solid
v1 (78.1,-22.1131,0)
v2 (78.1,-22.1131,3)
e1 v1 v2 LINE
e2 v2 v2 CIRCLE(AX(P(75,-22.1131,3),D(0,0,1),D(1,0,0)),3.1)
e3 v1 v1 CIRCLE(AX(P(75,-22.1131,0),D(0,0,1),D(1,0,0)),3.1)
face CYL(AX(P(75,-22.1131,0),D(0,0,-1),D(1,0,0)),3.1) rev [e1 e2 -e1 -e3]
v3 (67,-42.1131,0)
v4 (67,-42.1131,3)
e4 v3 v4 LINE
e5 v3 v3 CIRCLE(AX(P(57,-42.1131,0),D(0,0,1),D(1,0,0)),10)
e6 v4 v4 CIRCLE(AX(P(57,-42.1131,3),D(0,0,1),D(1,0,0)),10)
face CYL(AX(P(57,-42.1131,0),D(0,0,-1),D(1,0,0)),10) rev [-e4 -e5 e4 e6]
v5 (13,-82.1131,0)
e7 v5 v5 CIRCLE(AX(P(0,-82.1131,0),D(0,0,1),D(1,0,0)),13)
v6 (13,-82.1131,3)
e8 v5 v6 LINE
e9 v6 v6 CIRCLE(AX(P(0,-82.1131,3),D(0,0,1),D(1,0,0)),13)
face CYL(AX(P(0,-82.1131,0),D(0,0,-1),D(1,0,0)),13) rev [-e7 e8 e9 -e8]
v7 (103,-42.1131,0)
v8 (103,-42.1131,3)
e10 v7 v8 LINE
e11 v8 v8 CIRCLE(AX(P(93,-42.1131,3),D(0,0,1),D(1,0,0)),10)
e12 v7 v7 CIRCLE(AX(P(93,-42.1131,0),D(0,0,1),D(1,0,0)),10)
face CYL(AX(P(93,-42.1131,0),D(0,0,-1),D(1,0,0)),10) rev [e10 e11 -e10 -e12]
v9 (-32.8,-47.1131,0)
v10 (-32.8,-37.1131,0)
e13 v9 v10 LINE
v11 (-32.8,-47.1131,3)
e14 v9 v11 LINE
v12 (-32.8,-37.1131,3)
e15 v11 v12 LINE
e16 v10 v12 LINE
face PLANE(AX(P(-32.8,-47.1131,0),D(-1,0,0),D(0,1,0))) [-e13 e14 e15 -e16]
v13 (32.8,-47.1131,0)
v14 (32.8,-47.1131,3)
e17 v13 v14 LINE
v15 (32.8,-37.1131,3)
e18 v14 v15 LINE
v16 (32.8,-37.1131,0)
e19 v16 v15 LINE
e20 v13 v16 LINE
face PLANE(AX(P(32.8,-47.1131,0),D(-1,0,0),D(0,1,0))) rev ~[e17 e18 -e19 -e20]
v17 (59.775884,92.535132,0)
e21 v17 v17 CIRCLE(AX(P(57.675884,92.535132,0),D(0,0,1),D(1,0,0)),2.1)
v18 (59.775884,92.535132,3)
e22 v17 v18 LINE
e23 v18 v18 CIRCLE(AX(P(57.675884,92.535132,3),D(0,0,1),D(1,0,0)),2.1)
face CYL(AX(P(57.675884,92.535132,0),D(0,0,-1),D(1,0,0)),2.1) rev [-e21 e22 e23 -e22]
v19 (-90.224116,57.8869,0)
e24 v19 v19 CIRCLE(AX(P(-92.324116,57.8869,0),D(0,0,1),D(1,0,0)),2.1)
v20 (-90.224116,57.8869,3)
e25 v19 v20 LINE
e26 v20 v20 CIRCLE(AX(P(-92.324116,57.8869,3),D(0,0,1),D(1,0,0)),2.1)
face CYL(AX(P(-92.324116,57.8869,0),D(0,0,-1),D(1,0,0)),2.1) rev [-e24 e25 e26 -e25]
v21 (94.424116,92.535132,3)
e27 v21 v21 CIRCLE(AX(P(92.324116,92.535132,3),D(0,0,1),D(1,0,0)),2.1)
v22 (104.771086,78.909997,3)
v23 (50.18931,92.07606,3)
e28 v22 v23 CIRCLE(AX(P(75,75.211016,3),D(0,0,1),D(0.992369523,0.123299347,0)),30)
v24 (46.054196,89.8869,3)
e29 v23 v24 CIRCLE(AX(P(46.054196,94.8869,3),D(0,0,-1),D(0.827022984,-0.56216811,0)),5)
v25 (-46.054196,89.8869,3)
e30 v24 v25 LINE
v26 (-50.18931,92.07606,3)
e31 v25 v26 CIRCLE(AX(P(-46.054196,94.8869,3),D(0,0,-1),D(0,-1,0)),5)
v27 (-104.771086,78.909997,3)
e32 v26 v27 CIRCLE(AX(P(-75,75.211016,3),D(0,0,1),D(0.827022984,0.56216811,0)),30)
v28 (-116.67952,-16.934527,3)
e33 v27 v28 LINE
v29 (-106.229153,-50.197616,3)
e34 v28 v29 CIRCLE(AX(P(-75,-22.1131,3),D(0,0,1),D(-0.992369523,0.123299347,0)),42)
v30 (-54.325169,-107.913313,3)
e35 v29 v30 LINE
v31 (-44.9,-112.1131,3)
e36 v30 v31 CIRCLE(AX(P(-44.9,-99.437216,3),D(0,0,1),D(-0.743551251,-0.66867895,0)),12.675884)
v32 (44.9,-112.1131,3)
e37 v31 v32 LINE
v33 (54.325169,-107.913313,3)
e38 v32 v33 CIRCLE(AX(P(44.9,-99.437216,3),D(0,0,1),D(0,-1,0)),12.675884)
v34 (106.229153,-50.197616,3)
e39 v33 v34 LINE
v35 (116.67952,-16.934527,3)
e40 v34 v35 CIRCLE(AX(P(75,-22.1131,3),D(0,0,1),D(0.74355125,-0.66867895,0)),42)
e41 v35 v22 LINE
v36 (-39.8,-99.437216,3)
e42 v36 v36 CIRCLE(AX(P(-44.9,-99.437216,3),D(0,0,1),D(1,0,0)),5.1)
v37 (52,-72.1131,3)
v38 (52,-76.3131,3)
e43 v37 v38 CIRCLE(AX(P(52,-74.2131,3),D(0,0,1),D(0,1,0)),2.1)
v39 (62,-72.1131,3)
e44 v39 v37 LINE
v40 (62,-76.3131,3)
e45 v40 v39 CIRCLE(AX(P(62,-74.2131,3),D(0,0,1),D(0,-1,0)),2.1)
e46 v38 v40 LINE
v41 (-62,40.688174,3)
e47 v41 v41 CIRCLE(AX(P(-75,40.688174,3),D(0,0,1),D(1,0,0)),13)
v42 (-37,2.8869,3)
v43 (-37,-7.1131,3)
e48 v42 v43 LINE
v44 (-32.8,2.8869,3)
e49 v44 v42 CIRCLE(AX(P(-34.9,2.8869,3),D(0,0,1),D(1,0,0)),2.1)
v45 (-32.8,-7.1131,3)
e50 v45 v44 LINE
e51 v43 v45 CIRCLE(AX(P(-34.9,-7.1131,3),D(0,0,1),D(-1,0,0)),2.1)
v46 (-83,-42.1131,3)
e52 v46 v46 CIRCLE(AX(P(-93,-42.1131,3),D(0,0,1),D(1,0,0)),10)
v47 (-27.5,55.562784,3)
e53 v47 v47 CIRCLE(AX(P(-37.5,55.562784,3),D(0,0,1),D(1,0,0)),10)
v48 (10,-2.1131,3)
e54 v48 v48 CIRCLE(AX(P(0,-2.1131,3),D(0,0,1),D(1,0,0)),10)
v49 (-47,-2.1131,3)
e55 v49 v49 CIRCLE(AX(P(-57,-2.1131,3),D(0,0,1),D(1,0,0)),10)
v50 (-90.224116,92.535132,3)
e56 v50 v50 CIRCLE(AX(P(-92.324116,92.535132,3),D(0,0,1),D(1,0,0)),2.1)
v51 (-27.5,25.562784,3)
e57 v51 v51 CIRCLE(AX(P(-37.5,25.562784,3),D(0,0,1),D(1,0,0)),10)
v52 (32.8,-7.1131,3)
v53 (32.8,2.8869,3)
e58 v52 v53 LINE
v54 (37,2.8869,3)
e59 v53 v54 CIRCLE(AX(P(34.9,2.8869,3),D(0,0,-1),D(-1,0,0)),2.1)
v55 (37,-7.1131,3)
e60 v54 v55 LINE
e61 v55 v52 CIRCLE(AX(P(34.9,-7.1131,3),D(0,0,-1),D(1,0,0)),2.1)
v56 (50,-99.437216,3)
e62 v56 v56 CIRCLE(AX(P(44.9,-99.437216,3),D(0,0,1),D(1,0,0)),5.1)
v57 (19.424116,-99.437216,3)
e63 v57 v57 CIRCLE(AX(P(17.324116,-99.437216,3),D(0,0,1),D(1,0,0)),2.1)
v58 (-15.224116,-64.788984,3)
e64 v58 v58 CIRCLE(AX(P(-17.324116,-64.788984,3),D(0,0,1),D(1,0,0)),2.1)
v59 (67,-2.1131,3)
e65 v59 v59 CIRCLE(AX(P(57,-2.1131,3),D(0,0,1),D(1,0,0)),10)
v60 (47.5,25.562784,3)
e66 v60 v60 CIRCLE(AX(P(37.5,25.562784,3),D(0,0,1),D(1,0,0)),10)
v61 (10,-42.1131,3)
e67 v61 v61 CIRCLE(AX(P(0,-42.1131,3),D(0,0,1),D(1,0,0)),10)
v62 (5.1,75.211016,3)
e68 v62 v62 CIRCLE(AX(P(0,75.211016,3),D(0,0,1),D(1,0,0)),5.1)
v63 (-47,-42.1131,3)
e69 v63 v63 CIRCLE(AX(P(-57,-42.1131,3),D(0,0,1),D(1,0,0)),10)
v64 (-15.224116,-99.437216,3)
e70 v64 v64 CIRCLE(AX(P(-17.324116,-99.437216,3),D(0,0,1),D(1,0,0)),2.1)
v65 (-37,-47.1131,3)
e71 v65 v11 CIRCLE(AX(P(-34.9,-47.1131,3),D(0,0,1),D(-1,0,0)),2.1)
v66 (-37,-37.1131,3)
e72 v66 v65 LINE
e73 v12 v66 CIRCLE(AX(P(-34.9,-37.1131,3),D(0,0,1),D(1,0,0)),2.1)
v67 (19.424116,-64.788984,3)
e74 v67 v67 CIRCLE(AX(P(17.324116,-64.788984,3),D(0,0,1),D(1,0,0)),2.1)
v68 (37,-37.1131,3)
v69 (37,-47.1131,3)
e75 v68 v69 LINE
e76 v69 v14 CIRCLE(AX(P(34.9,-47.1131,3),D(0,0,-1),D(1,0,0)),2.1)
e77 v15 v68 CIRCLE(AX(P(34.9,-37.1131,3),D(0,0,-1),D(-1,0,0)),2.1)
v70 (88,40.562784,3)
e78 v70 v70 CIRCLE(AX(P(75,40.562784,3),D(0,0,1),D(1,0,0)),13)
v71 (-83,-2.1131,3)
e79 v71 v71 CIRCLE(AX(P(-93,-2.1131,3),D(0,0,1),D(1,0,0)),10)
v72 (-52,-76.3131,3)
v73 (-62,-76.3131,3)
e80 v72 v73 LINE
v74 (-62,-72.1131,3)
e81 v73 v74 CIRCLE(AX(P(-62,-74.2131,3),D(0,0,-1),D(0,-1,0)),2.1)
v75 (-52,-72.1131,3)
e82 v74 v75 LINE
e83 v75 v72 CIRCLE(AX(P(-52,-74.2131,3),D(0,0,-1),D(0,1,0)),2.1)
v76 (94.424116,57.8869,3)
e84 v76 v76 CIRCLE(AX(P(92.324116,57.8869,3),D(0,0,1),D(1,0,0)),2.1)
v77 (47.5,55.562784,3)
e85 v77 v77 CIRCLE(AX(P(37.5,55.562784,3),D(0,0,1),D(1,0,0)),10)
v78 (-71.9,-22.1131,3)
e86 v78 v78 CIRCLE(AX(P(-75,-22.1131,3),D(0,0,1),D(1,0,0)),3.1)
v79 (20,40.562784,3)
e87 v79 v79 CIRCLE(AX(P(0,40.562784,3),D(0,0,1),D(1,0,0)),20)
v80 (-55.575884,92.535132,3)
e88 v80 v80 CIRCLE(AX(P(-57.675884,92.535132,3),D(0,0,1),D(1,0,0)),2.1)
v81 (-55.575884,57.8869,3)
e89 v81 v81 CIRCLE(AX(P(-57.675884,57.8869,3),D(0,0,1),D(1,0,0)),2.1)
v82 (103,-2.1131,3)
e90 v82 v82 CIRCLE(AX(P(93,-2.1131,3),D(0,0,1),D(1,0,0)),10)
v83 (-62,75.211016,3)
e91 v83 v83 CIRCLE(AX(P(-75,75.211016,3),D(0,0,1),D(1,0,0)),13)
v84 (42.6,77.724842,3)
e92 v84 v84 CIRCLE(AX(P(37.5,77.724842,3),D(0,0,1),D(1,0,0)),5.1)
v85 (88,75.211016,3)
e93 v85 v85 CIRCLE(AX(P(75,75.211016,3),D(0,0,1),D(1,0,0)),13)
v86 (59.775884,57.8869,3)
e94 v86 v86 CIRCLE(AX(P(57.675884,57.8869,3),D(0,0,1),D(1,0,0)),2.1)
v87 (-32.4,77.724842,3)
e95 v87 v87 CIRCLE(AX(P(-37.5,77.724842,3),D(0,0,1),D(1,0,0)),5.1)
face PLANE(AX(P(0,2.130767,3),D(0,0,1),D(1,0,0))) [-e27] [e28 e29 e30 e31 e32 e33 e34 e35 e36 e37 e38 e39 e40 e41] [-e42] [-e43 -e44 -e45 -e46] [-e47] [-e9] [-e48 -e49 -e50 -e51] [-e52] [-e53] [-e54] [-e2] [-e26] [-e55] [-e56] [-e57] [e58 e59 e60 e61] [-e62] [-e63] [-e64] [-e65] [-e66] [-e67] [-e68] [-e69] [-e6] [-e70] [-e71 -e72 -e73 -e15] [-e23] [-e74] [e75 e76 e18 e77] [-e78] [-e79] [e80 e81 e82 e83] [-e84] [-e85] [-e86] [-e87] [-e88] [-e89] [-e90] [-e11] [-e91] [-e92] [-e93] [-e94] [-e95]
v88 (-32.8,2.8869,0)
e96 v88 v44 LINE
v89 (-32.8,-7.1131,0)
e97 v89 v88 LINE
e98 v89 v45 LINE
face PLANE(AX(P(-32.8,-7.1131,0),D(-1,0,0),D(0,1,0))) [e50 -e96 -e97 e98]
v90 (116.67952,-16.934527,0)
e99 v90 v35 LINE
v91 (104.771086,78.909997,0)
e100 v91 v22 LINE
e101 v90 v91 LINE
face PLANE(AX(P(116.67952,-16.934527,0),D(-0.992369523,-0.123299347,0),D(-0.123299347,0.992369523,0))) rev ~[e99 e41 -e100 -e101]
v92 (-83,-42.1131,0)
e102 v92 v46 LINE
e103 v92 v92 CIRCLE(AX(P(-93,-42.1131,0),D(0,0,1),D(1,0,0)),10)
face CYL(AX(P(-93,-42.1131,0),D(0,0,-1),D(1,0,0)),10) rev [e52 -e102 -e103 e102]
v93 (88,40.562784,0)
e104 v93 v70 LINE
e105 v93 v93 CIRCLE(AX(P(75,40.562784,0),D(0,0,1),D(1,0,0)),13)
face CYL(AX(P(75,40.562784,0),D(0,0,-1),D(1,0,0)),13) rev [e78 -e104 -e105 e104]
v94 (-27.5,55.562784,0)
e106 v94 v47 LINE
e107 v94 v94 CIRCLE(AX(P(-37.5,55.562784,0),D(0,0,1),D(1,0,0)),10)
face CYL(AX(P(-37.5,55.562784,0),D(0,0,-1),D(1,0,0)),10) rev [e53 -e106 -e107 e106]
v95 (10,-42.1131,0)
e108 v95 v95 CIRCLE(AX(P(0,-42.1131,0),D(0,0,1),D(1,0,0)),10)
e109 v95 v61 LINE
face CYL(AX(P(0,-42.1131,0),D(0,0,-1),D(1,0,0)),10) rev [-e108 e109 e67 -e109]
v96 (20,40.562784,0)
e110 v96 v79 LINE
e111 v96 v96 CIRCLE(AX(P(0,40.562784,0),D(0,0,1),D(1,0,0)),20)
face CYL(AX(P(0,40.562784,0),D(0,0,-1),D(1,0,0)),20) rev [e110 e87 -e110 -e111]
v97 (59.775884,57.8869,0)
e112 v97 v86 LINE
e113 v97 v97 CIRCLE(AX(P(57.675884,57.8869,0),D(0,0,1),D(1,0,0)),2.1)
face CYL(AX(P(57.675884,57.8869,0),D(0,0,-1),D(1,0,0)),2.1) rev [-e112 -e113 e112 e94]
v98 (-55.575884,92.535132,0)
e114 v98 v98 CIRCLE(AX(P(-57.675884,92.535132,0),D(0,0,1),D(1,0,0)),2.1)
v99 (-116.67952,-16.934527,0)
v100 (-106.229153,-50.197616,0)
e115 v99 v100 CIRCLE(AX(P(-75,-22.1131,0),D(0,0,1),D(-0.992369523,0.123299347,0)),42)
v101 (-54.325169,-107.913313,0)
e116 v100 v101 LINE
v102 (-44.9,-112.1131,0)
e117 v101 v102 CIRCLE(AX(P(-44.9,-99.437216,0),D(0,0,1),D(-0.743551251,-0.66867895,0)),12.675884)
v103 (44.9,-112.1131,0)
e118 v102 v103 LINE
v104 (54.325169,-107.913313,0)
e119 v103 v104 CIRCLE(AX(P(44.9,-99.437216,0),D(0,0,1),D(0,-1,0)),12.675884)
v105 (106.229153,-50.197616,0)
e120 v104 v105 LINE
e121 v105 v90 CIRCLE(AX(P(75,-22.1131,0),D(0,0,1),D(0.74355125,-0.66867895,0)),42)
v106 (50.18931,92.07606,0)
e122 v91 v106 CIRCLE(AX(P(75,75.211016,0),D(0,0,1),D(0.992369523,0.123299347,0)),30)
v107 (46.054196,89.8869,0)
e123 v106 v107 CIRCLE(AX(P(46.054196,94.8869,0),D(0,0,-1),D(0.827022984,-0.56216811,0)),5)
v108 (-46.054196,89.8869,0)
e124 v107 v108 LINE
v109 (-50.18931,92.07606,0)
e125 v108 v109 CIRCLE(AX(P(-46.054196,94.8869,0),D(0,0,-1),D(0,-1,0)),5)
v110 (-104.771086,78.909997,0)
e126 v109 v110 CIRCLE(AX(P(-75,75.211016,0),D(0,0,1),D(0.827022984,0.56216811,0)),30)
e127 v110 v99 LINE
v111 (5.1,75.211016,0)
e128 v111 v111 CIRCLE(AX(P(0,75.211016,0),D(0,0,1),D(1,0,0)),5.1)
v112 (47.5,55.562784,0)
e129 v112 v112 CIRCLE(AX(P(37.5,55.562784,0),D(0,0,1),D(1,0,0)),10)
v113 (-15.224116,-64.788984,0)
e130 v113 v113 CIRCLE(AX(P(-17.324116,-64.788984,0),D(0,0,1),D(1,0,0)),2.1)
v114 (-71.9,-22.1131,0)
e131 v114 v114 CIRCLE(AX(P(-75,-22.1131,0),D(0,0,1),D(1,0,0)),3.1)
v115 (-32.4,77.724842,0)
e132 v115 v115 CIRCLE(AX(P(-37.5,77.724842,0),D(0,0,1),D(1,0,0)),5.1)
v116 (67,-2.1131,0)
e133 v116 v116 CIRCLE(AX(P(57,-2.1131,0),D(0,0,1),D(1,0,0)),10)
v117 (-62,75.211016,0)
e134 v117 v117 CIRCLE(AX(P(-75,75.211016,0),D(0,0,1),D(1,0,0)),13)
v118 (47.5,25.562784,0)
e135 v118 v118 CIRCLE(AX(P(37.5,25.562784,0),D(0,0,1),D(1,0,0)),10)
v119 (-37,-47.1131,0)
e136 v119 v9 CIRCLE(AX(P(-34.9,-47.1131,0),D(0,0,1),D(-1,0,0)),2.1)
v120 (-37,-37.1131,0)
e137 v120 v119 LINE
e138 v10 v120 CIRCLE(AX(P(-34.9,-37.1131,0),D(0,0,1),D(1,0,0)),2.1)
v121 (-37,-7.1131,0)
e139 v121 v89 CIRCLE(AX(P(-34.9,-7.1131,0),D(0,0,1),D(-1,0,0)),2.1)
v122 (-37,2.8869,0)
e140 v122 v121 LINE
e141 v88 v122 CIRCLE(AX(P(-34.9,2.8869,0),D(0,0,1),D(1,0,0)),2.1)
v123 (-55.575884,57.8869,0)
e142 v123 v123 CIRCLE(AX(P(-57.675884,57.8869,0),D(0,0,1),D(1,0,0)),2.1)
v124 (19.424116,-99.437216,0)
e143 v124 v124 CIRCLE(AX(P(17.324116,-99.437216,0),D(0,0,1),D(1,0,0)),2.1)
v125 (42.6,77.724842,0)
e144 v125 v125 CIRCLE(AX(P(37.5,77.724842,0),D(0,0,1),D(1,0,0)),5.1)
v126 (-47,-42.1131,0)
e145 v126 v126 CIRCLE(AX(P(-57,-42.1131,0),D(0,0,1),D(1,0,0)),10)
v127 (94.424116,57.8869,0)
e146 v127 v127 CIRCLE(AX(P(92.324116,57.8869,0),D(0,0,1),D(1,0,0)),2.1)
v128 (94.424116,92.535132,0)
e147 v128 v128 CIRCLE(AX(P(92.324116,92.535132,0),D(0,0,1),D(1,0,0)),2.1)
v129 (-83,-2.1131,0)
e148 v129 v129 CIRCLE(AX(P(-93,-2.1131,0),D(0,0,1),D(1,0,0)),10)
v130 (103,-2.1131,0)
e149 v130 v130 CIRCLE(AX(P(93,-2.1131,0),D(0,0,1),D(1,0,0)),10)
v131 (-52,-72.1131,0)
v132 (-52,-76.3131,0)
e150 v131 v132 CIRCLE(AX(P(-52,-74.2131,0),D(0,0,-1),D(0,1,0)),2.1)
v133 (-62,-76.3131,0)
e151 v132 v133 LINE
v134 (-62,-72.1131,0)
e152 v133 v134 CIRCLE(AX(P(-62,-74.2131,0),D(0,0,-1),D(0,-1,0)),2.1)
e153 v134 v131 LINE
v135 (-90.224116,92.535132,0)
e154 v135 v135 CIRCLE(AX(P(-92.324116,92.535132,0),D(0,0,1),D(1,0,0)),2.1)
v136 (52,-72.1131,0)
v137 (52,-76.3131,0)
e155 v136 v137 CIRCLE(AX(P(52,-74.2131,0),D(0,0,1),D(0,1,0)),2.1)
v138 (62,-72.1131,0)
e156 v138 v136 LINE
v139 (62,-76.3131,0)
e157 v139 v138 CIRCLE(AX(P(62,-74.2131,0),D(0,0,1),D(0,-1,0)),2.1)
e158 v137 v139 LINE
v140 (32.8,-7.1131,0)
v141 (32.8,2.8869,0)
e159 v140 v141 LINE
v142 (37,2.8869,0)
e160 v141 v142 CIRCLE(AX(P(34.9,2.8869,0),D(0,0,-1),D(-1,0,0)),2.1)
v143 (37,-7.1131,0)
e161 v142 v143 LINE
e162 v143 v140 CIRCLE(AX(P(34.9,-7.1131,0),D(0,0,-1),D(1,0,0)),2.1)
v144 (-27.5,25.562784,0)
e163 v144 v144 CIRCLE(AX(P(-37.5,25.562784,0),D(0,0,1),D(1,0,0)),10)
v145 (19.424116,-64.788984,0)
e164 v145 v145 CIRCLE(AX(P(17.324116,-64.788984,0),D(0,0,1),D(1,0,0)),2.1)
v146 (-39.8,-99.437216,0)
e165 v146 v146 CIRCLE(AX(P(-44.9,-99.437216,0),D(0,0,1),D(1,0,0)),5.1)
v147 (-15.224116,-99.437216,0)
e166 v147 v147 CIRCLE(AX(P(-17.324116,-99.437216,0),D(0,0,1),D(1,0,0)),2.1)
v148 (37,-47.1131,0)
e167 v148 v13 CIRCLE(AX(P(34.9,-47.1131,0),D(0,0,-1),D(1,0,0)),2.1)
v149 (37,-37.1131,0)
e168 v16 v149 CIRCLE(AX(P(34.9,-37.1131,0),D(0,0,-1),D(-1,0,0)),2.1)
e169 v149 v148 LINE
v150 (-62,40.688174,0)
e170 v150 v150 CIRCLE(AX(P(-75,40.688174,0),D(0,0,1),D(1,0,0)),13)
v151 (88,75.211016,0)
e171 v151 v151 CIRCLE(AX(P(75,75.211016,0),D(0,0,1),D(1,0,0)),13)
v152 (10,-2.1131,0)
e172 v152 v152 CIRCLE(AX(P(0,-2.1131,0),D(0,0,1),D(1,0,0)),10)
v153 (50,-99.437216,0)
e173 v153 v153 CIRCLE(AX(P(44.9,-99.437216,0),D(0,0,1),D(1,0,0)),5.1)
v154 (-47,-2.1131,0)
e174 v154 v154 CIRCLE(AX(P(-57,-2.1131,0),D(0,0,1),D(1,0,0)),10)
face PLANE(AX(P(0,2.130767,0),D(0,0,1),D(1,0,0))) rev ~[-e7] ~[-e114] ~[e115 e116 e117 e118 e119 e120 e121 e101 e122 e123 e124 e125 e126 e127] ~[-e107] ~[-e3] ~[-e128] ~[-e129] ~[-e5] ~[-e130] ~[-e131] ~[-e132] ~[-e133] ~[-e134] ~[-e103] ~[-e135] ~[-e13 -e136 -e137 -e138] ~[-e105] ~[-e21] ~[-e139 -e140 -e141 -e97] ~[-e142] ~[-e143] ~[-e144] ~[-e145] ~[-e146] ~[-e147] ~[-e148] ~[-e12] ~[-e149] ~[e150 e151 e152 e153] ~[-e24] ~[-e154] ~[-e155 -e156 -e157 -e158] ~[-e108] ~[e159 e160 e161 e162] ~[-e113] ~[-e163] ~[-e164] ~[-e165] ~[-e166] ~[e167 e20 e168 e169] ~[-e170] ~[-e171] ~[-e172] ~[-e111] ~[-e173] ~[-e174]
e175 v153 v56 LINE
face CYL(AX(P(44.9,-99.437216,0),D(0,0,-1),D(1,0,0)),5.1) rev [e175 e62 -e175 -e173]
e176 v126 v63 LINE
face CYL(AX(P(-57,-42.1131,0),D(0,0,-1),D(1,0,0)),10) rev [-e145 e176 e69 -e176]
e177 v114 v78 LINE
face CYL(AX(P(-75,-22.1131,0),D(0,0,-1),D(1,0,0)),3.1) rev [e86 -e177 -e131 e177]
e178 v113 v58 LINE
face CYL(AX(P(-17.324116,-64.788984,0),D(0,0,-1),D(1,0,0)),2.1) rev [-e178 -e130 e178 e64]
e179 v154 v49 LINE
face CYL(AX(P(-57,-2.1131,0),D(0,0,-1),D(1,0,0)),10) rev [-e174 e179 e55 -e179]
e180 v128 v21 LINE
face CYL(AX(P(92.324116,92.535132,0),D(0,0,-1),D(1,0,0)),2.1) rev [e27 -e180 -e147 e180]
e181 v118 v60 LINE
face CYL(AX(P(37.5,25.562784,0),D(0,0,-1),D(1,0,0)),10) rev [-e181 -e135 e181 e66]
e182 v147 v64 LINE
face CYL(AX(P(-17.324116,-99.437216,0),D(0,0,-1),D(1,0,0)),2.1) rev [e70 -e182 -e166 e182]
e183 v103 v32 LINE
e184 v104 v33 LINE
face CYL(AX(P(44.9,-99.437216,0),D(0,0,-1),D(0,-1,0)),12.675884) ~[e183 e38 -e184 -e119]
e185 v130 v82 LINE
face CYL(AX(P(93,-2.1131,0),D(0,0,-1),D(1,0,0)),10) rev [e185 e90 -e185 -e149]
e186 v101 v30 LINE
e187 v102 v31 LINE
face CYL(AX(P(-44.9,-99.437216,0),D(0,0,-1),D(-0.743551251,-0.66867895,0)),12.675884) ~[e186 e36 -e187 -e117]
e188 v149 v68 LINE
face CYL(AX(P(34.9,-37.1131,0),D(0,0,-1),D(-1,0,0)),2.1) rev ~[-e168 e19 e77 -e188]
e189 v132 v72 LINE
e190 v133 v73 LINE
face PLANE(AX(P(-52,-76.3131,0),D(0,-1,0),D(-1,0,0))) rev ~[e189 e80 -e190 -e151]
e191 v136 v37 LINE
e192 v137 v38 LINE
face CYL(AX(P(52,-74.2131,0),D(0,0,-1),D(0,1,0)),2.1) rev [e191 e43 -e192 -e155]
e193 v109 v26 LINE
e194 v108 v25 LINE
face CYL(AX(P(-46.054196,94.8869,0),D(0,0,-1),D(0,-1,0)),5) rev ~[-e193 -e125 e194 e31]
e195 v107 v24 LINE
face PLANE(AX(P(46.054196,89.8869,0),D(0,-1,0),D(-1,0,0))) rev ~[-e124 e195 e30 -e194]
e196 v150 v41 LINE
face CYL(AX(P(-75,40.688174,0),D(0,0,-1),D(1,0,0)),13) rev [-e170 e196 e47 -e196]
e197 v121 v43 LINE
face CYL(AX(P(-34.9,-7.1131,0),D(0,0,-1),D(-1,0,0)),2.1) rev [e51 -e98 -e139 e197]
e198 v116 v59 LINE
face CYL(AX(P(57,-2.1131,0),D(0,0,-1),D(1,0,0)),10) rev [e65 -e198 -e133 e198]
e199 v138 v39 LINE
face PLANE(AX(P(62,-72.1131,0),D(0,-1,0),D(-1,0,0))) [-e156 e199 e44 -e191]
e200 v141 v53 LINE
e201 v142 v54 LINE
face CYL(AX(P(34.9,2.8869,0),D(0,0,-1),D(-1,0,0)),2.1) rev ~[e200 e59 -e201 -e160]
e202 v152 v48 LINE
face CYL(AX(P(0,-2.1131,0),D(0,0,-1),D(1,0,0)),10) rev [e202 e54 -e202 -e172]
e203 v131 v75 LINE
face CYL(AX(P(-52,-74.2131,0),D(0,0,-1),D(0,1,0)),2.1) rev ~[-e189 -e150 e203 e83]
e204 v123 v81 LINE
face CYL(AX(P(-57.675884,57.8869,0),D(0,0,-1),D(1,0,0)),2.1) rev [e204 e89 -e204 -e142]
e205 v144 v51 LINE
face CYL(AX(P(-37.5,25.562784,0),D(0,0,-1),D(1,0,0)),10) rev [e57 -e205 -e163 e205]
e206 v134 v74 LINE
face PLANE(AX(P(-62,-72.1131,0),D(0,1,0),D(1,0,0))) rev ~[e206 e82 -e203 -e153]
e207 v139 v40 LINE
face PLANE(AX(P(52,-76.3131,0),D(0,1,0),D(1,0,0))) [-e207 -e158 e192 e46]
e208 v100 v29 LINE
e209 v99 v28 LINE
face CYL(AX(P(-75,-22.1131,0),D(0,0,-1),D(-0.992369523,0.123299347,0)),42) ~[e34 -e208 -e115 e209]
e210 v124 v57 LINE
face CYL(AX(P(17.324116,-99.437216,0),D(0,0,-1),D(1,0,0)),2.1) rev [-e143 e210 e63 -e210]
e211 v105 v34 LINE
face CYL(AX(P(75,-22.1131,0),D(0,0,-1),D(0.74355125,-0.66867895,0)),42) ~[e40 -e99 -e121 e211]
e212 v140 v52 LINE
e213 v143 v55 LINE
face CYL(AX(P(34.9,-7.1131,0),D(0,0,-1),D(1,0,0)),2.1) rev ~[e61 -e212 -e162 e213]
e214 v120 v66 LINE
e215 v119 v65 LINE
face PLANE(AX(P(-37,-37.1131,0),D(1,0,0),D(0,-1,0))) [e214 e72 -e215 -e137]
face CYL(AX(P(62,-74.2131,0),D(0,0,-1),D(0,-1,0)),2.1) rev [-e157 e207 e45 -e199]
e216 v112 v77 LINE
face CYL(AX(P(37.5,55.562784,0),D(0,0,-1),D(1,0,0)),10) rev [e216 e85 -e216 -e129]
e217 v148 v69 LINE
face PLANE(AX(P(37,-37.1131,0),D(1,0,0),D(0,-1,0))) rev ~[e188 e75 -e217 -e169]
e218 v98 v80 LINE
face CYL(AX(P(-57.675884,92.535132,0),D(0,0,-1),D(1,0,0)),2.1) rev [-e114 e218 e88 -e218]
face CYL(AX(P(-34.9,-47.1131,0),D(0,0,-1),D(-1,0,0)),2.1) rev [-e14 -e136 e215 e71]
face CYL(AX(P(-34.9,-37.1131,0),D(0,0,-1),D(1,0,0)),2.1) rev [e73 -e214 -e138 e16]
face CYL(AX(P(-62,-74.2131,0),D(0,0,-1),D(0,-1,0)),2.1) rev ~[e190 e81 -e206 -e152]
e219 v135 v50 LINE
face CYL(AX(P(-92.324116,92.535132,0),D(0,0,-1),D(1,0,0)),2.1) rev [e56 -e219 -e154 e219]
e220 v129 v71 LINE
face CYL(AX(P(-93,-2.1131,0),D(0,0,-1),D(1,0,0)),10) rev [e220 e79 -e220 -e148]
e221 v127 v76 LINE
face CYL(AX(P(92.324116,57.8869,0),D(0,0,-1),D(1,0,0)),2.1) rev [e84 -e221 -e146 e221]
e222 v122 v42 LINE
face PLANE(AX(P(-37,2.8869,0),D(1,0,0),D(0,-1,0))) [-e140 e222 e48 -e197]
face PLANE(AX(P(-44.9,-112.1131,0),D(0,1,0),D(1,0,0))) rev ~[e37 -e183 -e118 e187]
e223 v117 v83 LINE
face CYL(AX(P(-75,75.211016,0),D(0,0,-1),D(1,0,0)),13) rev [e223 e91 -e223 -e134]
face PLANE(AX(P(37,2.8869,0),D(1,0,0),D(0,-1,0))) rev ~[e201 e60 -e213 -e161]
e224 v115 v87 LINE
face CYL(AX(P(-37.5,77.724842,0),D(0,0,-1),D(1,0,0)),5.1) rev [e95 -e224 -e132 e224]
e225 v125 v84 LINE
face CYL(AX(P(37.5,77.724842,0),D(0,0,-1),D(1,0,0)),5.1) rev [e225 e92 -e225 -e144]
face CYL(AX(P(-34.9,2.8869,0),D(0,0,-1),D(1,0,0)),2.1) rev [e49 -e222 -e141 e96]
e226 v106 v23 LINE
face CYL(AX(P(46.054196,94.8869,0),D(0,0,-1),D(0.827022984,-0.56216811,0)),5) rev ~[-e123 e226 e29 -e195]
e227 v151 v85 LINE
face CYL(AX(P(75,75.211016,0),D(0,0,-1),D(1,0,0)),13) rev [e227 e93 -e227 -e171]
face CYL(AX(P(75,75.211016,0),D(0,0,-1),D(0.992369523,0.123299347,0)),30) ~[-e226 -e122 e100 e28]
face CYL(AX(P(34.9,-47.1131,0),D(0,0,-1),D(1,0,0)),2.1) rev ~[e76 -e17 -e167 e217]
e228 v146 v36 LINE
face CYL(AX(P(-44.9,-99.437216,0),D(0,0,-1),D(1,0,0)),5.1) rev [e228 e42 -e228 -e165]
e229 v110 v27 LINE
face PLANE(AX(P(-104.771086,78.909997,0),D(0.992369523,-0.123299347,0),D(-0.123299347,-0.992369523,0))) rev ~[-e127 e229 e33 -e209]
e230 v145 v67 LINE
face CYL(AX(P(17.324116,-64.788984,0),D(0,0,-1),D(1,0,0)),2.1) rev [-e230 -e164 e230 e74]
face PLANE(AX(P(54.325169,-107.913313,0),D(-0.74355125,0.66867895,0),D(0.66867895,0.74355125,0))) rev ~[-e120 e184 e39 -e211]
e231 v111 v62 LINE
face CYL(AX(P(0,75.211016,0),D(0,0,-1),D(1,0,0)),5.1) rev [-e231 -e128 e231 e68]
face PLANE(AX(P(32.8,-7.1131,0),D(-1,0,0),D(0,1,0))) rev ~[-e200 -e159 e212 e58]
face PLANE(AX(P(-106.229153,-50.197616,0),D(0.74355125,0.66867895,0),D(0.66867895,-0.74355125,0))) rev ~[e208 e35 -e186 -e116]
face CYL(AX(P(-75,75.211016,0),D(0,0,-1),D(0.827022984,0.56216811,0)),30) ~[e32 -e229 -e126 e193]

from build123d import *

# Parameters (mm, degrees)
MODEL_R             = 2.1
MODEL_R_2           = 13
MODEL_R_3           = 3.1
MODEL_R_4           = 10
MODEL_R_5           = 5.1
MODEL_R_6           = 20
BOSS_EXTRUDE1_DEPTH = 3


with BuildPart() as part:
    # Model → Boss-Extrude1 (new body)
    with BuildSketch(Plane.XY):
        with BuildLine():
            Line((-44.9, -112.113099849), (0, -112.113099849))
            Line((0, -112.113099849), (44.9, -112.113099849))
            ThreePointArc((44.9, -112.113099849), (50.059264201, -111.015645267), (54.325169295, -107.913312696))
            Line((54.325169295, -107.913312696), (106.229152519, -50.197615742))
            ThreePointArc((106.229152519, -50.197615742), (115.069026633, -34.701709967), (116.679519982, -16.934527261))
            Line((116.679519982, -16.934527261), (104.771085702, 78.90999671))
            ThreePointArc((104.771085702, 78.90999671), (82.034748438, 104.374560561), (50.189310486, 92.0760596))
            ThreePointArc((50.189310486, 92.0760596), (48.393618278, 90.467952157), (46.054195567, 89.886900151))
            Line((46.054195567, 89.886900151), (0, 89.886900151))
            Line((0, 89.886900151), (-46.054195567, 89.886900151))
            ThreePointArc((-46.054195567, 89.886900151), (-48.393618278, 90.467952157), (-50.189310486, 92.0760596))
            ThreePointArc((-50.189310486, 92.0760596), (-82.034748438, 104.374560561), (-104.771085702, 78.90999671))
            Line((-104.771085702, 78.90999671), (-116.679519982, -16.934527261))
            ThreePointArc((-116.679519982, -16.934527261), (-115.069026633, -34.701709967), (-106.229152519, -50.197615742))
            Line((-106.229152519, -50.197615742), (-54.325169295, -107.913312696))
            ThreePointArc((-54.325169295, -107.913312696), (-50.059264201, -111.015645267), (-44.9, -112.113099849))
        make_face()
        with Locations((17.324116139, -99.437215988)):
            Circle(MODEL_R, mode=Mode.SUBTRACT)
        with Locations((-17.324116139, -64.78898371)):
            Circle(MODEL_R, mode=Mode.SUBTRACT)
        with Locations((-92.324116139, 57.886900151)):
            Circle(MODEL_R, mode=Mode.SUBTRACT)
        with Locations((-57.675883861, 92.535132429)):
            Circle(MODEL_R, mode=Mode.SUBTRACT)
        with Locations((0, -82.113099849)):
            Circle(MODEL_R_2, mode=Mode.SUBTRACT)
        with Locations((-75, 75.21101629)):
            Circle(MODEL_R_2, mode=Mode.SUBTRACT)
        with Locations((-92.324116139, 92.535132429)):
            Circle(MODEL_R, mode=Mode.SUBTRACT)
        with Locations((-57.675883861, 57.886900151)):
            Circle(MODEL_R, mode=Mode.SUBTRACT)
        with Locations((17.324116139, -64.78898371)):
            Circle(MODEL_R, mode=Mode.SUBTRACT)
        with Locations((-17.324116139, -99.437215988)):
            Circle(MODEL_R, mode=Mode.SUBTRACT)
        with Locations((-75, -22.113099849)):
            Circle(MODEL_R_3, mode=Mode.SUBTRACT)
        with Locations((-57, -2.113099849)):
            Circle(MODEL_R_4, mode=Mode.SUBTRACT)
        with Locations((-57, -42.113099849)):
            Circle(MODEL_R_4, mode=Mode.SUBTRACT)
        with Locations((-93, -2.113099849)):
            Circle(MODEL_R_4, mode=Mode.SUBTRACT)
        with Locations((-93, -42.113099849)):
            Circle(MODEL_R_4, mode=Mode.SUBTRACT)
        with Locations((-44.9, -99.437215988)):
            Circle(MODEL_R_5, mode=Mode.SUBTRACT)
        with Locations((75, -22.113099849)):
            Circle(MODEL_R_3, mode=Mode.SUBTRACT)
        with Locations((57, -2.113099849)):
            Circle(MODEL_R_4, mode=Mode.SUBTRACT)
        with Locations((57, -42.113099849)):
            Circle(MODEL_R_4, mode=Mode.SUBTRACT)
        with Locations((93, -2.113099849)):
            Circle(MODEL_R_4, mode=Mode.SUBTRACT)
        with Locations((93, -42.113099849)):
            Circle(MODEL_R_4, mode=Mode.SUBTRACT)
        with Locations((44.9, -99.437215988)):
            Circle(MODEL_R_5, mode=Mode.SUBTRACT)
        with Locations((0, 75.21101629)):
            Circle(MODEL_R_5, mode=Mode.SUBTRACT)
        with Locations((0, -2.113099849)):
            Circle(MODEL_R_4, mode=Mode.SUBTRACT)
        with Locations((0, -42.113099849)):
            Circle(MODEL_R_4, mode=Mode.SUBTRACT)
        with Locations((0, 40.562784012)):
            Circle(MODEL_R_6, mode=Mode.SUBTRACT)
        with Locations((-37.5, 55.562784012)):
            Circle(MODEL_R_4, mode=Mode.SUBTRACT)
        with Locations((-37.5, 25.562784012)):
            Circle(MODEL_R_4, mode=Mode.SUBTRACT)
        with Locations((37.5, 55.562784012)):
            Circle(MODEL_R_4, mode=Mode.SUBTRACT)
        with Locations((37.5, 25.562784012)):
            Circle(MODEL_R_4, mode=Mode.SUBTRACT)
        with Locations((57.675883861, 57.886900151)):
            Circle(MODEL_R, mode=Mode.SUBTRACT)
        with Locations((92.324116139, 92.535132429)):
            Circle(MODEL_R, mode=Mode.SUBTRACT)
        with Locations((75, 75.21101629)):
            Circle(MODEL_R_2, mode=Mode.SUBTRACT)
        with Locations((57.675883861, 92.535132429)):
            Circle(MODEL_R, mode=Mode.SUBTRACT)
        with Locations((92.324116139, 57.886900151)):
            Circle(MODEL_R, mode=Mode.SUBTRACT)
        with Locations((-75, 40.688174024)):
            Circle(MODEL_R_2, mode=Mode.SUBTRACT)
        with Locations((75, 40.562784012)):
            Circle(MODEL_R_2, mode=Mode.SUBTRACT)
        with Locations((-37.5, 77.724842082)):
            Circle(MODEL_R_5, mode=Mode.SUBTRACT)
        with Locations((37.5, 77.724842082)):
            Circle(MODEL_R_5, mode=Mode.SUBTRACT)
        with BuildLine():
            Line((-37, 2.886900151), (-37, -7.113099849))
            ThreePointArc((-37, -7.113099849), (-34.9, -9.213099849), (-32.8, -7.113099849))
            Line((-32.8, -7.113099849), (-32.8, 2.886900151))
            ThreePointArc((-32.8, 2.886900151), (-34.9, 4.986900151), (-37, 2.886900151))
        make_face(mode=Mode.SUBTRACT)
        with BuildLine():
            Line((-37, -37.113099849), (-37, -47.113099849))
            ThreePointArc((-37, -47.113099849), (-34.9, -49.213099849), (-32.8, -47.113099849))
            Line((-32.8, -47.113099849), (-32.8, -37.113099849))
            ThreePointArc((-32.8, -37.113099849), (-34.9, -35.013099849), (-37, -37.113099849))
        make_face(mode=Mode.SUBTRACT)
        with BuildLine():
            Line((37, 2.886900151), (37, -7.113099849))
            ThreePointArc((37, -7.113099849), (34.9, -9.213099849), (32.8, -7.113099849))
            Line((32.8, -7.113099849), (32.8, 2.886900151))
            ThreePointArc((32.8, 2.886900151), (34.9, 4.986900151), (37, 2.886900151))
        make_face(mode=Mode.SUBTRACT)
        with BuildLine():
            Line((37, -37.113099849), (37, -47.113099849))
            ThreePointArc((37, -47.113099849), (34.9, -49.213099849), (32.8, -47.113099849))
            Line((32.8, -47.113099849), (32.8, -37.113099849))
            ThreePointArc((32.8, -37.113099849), (34.9, -35.013099849), (37, -37.113099849))
        make_face(mode=Mode.SUBTRACT)
        with BuildLine():
            Line((-62, -72.113099849), (-52, -72.113099849))
            ThreePointArc((-52, -72.113099849), (-49.9, -74.213099849), (-52, -76.313099849))
            Line((-52, -76.313099849), (-62, -76.313099849))
            ThreePointArc((-62, -76.313099849), (-64.1, -74.213099849), (-62, -72.113099849))
        make_face(mode=Mode.SUBTRACT)
        with BuildLine():
            Line((62, -72.113099849), (52, -72.113099849))
            ThreePointArc((52, -72.113099849), (49.9, -74.213099849), (52, -76.313099849))
            Line((52, -76.313099849), (62, -76.313099849))
            ThreePointArc((62, -76.313099849), (64.1, -74.213099849), (62, -72.113099849))
        make_face(mode=Mode.SUBTRACT)
    extrude(amount=BOSS_EXTRUDE1_DEPTH)


solid = part.part
